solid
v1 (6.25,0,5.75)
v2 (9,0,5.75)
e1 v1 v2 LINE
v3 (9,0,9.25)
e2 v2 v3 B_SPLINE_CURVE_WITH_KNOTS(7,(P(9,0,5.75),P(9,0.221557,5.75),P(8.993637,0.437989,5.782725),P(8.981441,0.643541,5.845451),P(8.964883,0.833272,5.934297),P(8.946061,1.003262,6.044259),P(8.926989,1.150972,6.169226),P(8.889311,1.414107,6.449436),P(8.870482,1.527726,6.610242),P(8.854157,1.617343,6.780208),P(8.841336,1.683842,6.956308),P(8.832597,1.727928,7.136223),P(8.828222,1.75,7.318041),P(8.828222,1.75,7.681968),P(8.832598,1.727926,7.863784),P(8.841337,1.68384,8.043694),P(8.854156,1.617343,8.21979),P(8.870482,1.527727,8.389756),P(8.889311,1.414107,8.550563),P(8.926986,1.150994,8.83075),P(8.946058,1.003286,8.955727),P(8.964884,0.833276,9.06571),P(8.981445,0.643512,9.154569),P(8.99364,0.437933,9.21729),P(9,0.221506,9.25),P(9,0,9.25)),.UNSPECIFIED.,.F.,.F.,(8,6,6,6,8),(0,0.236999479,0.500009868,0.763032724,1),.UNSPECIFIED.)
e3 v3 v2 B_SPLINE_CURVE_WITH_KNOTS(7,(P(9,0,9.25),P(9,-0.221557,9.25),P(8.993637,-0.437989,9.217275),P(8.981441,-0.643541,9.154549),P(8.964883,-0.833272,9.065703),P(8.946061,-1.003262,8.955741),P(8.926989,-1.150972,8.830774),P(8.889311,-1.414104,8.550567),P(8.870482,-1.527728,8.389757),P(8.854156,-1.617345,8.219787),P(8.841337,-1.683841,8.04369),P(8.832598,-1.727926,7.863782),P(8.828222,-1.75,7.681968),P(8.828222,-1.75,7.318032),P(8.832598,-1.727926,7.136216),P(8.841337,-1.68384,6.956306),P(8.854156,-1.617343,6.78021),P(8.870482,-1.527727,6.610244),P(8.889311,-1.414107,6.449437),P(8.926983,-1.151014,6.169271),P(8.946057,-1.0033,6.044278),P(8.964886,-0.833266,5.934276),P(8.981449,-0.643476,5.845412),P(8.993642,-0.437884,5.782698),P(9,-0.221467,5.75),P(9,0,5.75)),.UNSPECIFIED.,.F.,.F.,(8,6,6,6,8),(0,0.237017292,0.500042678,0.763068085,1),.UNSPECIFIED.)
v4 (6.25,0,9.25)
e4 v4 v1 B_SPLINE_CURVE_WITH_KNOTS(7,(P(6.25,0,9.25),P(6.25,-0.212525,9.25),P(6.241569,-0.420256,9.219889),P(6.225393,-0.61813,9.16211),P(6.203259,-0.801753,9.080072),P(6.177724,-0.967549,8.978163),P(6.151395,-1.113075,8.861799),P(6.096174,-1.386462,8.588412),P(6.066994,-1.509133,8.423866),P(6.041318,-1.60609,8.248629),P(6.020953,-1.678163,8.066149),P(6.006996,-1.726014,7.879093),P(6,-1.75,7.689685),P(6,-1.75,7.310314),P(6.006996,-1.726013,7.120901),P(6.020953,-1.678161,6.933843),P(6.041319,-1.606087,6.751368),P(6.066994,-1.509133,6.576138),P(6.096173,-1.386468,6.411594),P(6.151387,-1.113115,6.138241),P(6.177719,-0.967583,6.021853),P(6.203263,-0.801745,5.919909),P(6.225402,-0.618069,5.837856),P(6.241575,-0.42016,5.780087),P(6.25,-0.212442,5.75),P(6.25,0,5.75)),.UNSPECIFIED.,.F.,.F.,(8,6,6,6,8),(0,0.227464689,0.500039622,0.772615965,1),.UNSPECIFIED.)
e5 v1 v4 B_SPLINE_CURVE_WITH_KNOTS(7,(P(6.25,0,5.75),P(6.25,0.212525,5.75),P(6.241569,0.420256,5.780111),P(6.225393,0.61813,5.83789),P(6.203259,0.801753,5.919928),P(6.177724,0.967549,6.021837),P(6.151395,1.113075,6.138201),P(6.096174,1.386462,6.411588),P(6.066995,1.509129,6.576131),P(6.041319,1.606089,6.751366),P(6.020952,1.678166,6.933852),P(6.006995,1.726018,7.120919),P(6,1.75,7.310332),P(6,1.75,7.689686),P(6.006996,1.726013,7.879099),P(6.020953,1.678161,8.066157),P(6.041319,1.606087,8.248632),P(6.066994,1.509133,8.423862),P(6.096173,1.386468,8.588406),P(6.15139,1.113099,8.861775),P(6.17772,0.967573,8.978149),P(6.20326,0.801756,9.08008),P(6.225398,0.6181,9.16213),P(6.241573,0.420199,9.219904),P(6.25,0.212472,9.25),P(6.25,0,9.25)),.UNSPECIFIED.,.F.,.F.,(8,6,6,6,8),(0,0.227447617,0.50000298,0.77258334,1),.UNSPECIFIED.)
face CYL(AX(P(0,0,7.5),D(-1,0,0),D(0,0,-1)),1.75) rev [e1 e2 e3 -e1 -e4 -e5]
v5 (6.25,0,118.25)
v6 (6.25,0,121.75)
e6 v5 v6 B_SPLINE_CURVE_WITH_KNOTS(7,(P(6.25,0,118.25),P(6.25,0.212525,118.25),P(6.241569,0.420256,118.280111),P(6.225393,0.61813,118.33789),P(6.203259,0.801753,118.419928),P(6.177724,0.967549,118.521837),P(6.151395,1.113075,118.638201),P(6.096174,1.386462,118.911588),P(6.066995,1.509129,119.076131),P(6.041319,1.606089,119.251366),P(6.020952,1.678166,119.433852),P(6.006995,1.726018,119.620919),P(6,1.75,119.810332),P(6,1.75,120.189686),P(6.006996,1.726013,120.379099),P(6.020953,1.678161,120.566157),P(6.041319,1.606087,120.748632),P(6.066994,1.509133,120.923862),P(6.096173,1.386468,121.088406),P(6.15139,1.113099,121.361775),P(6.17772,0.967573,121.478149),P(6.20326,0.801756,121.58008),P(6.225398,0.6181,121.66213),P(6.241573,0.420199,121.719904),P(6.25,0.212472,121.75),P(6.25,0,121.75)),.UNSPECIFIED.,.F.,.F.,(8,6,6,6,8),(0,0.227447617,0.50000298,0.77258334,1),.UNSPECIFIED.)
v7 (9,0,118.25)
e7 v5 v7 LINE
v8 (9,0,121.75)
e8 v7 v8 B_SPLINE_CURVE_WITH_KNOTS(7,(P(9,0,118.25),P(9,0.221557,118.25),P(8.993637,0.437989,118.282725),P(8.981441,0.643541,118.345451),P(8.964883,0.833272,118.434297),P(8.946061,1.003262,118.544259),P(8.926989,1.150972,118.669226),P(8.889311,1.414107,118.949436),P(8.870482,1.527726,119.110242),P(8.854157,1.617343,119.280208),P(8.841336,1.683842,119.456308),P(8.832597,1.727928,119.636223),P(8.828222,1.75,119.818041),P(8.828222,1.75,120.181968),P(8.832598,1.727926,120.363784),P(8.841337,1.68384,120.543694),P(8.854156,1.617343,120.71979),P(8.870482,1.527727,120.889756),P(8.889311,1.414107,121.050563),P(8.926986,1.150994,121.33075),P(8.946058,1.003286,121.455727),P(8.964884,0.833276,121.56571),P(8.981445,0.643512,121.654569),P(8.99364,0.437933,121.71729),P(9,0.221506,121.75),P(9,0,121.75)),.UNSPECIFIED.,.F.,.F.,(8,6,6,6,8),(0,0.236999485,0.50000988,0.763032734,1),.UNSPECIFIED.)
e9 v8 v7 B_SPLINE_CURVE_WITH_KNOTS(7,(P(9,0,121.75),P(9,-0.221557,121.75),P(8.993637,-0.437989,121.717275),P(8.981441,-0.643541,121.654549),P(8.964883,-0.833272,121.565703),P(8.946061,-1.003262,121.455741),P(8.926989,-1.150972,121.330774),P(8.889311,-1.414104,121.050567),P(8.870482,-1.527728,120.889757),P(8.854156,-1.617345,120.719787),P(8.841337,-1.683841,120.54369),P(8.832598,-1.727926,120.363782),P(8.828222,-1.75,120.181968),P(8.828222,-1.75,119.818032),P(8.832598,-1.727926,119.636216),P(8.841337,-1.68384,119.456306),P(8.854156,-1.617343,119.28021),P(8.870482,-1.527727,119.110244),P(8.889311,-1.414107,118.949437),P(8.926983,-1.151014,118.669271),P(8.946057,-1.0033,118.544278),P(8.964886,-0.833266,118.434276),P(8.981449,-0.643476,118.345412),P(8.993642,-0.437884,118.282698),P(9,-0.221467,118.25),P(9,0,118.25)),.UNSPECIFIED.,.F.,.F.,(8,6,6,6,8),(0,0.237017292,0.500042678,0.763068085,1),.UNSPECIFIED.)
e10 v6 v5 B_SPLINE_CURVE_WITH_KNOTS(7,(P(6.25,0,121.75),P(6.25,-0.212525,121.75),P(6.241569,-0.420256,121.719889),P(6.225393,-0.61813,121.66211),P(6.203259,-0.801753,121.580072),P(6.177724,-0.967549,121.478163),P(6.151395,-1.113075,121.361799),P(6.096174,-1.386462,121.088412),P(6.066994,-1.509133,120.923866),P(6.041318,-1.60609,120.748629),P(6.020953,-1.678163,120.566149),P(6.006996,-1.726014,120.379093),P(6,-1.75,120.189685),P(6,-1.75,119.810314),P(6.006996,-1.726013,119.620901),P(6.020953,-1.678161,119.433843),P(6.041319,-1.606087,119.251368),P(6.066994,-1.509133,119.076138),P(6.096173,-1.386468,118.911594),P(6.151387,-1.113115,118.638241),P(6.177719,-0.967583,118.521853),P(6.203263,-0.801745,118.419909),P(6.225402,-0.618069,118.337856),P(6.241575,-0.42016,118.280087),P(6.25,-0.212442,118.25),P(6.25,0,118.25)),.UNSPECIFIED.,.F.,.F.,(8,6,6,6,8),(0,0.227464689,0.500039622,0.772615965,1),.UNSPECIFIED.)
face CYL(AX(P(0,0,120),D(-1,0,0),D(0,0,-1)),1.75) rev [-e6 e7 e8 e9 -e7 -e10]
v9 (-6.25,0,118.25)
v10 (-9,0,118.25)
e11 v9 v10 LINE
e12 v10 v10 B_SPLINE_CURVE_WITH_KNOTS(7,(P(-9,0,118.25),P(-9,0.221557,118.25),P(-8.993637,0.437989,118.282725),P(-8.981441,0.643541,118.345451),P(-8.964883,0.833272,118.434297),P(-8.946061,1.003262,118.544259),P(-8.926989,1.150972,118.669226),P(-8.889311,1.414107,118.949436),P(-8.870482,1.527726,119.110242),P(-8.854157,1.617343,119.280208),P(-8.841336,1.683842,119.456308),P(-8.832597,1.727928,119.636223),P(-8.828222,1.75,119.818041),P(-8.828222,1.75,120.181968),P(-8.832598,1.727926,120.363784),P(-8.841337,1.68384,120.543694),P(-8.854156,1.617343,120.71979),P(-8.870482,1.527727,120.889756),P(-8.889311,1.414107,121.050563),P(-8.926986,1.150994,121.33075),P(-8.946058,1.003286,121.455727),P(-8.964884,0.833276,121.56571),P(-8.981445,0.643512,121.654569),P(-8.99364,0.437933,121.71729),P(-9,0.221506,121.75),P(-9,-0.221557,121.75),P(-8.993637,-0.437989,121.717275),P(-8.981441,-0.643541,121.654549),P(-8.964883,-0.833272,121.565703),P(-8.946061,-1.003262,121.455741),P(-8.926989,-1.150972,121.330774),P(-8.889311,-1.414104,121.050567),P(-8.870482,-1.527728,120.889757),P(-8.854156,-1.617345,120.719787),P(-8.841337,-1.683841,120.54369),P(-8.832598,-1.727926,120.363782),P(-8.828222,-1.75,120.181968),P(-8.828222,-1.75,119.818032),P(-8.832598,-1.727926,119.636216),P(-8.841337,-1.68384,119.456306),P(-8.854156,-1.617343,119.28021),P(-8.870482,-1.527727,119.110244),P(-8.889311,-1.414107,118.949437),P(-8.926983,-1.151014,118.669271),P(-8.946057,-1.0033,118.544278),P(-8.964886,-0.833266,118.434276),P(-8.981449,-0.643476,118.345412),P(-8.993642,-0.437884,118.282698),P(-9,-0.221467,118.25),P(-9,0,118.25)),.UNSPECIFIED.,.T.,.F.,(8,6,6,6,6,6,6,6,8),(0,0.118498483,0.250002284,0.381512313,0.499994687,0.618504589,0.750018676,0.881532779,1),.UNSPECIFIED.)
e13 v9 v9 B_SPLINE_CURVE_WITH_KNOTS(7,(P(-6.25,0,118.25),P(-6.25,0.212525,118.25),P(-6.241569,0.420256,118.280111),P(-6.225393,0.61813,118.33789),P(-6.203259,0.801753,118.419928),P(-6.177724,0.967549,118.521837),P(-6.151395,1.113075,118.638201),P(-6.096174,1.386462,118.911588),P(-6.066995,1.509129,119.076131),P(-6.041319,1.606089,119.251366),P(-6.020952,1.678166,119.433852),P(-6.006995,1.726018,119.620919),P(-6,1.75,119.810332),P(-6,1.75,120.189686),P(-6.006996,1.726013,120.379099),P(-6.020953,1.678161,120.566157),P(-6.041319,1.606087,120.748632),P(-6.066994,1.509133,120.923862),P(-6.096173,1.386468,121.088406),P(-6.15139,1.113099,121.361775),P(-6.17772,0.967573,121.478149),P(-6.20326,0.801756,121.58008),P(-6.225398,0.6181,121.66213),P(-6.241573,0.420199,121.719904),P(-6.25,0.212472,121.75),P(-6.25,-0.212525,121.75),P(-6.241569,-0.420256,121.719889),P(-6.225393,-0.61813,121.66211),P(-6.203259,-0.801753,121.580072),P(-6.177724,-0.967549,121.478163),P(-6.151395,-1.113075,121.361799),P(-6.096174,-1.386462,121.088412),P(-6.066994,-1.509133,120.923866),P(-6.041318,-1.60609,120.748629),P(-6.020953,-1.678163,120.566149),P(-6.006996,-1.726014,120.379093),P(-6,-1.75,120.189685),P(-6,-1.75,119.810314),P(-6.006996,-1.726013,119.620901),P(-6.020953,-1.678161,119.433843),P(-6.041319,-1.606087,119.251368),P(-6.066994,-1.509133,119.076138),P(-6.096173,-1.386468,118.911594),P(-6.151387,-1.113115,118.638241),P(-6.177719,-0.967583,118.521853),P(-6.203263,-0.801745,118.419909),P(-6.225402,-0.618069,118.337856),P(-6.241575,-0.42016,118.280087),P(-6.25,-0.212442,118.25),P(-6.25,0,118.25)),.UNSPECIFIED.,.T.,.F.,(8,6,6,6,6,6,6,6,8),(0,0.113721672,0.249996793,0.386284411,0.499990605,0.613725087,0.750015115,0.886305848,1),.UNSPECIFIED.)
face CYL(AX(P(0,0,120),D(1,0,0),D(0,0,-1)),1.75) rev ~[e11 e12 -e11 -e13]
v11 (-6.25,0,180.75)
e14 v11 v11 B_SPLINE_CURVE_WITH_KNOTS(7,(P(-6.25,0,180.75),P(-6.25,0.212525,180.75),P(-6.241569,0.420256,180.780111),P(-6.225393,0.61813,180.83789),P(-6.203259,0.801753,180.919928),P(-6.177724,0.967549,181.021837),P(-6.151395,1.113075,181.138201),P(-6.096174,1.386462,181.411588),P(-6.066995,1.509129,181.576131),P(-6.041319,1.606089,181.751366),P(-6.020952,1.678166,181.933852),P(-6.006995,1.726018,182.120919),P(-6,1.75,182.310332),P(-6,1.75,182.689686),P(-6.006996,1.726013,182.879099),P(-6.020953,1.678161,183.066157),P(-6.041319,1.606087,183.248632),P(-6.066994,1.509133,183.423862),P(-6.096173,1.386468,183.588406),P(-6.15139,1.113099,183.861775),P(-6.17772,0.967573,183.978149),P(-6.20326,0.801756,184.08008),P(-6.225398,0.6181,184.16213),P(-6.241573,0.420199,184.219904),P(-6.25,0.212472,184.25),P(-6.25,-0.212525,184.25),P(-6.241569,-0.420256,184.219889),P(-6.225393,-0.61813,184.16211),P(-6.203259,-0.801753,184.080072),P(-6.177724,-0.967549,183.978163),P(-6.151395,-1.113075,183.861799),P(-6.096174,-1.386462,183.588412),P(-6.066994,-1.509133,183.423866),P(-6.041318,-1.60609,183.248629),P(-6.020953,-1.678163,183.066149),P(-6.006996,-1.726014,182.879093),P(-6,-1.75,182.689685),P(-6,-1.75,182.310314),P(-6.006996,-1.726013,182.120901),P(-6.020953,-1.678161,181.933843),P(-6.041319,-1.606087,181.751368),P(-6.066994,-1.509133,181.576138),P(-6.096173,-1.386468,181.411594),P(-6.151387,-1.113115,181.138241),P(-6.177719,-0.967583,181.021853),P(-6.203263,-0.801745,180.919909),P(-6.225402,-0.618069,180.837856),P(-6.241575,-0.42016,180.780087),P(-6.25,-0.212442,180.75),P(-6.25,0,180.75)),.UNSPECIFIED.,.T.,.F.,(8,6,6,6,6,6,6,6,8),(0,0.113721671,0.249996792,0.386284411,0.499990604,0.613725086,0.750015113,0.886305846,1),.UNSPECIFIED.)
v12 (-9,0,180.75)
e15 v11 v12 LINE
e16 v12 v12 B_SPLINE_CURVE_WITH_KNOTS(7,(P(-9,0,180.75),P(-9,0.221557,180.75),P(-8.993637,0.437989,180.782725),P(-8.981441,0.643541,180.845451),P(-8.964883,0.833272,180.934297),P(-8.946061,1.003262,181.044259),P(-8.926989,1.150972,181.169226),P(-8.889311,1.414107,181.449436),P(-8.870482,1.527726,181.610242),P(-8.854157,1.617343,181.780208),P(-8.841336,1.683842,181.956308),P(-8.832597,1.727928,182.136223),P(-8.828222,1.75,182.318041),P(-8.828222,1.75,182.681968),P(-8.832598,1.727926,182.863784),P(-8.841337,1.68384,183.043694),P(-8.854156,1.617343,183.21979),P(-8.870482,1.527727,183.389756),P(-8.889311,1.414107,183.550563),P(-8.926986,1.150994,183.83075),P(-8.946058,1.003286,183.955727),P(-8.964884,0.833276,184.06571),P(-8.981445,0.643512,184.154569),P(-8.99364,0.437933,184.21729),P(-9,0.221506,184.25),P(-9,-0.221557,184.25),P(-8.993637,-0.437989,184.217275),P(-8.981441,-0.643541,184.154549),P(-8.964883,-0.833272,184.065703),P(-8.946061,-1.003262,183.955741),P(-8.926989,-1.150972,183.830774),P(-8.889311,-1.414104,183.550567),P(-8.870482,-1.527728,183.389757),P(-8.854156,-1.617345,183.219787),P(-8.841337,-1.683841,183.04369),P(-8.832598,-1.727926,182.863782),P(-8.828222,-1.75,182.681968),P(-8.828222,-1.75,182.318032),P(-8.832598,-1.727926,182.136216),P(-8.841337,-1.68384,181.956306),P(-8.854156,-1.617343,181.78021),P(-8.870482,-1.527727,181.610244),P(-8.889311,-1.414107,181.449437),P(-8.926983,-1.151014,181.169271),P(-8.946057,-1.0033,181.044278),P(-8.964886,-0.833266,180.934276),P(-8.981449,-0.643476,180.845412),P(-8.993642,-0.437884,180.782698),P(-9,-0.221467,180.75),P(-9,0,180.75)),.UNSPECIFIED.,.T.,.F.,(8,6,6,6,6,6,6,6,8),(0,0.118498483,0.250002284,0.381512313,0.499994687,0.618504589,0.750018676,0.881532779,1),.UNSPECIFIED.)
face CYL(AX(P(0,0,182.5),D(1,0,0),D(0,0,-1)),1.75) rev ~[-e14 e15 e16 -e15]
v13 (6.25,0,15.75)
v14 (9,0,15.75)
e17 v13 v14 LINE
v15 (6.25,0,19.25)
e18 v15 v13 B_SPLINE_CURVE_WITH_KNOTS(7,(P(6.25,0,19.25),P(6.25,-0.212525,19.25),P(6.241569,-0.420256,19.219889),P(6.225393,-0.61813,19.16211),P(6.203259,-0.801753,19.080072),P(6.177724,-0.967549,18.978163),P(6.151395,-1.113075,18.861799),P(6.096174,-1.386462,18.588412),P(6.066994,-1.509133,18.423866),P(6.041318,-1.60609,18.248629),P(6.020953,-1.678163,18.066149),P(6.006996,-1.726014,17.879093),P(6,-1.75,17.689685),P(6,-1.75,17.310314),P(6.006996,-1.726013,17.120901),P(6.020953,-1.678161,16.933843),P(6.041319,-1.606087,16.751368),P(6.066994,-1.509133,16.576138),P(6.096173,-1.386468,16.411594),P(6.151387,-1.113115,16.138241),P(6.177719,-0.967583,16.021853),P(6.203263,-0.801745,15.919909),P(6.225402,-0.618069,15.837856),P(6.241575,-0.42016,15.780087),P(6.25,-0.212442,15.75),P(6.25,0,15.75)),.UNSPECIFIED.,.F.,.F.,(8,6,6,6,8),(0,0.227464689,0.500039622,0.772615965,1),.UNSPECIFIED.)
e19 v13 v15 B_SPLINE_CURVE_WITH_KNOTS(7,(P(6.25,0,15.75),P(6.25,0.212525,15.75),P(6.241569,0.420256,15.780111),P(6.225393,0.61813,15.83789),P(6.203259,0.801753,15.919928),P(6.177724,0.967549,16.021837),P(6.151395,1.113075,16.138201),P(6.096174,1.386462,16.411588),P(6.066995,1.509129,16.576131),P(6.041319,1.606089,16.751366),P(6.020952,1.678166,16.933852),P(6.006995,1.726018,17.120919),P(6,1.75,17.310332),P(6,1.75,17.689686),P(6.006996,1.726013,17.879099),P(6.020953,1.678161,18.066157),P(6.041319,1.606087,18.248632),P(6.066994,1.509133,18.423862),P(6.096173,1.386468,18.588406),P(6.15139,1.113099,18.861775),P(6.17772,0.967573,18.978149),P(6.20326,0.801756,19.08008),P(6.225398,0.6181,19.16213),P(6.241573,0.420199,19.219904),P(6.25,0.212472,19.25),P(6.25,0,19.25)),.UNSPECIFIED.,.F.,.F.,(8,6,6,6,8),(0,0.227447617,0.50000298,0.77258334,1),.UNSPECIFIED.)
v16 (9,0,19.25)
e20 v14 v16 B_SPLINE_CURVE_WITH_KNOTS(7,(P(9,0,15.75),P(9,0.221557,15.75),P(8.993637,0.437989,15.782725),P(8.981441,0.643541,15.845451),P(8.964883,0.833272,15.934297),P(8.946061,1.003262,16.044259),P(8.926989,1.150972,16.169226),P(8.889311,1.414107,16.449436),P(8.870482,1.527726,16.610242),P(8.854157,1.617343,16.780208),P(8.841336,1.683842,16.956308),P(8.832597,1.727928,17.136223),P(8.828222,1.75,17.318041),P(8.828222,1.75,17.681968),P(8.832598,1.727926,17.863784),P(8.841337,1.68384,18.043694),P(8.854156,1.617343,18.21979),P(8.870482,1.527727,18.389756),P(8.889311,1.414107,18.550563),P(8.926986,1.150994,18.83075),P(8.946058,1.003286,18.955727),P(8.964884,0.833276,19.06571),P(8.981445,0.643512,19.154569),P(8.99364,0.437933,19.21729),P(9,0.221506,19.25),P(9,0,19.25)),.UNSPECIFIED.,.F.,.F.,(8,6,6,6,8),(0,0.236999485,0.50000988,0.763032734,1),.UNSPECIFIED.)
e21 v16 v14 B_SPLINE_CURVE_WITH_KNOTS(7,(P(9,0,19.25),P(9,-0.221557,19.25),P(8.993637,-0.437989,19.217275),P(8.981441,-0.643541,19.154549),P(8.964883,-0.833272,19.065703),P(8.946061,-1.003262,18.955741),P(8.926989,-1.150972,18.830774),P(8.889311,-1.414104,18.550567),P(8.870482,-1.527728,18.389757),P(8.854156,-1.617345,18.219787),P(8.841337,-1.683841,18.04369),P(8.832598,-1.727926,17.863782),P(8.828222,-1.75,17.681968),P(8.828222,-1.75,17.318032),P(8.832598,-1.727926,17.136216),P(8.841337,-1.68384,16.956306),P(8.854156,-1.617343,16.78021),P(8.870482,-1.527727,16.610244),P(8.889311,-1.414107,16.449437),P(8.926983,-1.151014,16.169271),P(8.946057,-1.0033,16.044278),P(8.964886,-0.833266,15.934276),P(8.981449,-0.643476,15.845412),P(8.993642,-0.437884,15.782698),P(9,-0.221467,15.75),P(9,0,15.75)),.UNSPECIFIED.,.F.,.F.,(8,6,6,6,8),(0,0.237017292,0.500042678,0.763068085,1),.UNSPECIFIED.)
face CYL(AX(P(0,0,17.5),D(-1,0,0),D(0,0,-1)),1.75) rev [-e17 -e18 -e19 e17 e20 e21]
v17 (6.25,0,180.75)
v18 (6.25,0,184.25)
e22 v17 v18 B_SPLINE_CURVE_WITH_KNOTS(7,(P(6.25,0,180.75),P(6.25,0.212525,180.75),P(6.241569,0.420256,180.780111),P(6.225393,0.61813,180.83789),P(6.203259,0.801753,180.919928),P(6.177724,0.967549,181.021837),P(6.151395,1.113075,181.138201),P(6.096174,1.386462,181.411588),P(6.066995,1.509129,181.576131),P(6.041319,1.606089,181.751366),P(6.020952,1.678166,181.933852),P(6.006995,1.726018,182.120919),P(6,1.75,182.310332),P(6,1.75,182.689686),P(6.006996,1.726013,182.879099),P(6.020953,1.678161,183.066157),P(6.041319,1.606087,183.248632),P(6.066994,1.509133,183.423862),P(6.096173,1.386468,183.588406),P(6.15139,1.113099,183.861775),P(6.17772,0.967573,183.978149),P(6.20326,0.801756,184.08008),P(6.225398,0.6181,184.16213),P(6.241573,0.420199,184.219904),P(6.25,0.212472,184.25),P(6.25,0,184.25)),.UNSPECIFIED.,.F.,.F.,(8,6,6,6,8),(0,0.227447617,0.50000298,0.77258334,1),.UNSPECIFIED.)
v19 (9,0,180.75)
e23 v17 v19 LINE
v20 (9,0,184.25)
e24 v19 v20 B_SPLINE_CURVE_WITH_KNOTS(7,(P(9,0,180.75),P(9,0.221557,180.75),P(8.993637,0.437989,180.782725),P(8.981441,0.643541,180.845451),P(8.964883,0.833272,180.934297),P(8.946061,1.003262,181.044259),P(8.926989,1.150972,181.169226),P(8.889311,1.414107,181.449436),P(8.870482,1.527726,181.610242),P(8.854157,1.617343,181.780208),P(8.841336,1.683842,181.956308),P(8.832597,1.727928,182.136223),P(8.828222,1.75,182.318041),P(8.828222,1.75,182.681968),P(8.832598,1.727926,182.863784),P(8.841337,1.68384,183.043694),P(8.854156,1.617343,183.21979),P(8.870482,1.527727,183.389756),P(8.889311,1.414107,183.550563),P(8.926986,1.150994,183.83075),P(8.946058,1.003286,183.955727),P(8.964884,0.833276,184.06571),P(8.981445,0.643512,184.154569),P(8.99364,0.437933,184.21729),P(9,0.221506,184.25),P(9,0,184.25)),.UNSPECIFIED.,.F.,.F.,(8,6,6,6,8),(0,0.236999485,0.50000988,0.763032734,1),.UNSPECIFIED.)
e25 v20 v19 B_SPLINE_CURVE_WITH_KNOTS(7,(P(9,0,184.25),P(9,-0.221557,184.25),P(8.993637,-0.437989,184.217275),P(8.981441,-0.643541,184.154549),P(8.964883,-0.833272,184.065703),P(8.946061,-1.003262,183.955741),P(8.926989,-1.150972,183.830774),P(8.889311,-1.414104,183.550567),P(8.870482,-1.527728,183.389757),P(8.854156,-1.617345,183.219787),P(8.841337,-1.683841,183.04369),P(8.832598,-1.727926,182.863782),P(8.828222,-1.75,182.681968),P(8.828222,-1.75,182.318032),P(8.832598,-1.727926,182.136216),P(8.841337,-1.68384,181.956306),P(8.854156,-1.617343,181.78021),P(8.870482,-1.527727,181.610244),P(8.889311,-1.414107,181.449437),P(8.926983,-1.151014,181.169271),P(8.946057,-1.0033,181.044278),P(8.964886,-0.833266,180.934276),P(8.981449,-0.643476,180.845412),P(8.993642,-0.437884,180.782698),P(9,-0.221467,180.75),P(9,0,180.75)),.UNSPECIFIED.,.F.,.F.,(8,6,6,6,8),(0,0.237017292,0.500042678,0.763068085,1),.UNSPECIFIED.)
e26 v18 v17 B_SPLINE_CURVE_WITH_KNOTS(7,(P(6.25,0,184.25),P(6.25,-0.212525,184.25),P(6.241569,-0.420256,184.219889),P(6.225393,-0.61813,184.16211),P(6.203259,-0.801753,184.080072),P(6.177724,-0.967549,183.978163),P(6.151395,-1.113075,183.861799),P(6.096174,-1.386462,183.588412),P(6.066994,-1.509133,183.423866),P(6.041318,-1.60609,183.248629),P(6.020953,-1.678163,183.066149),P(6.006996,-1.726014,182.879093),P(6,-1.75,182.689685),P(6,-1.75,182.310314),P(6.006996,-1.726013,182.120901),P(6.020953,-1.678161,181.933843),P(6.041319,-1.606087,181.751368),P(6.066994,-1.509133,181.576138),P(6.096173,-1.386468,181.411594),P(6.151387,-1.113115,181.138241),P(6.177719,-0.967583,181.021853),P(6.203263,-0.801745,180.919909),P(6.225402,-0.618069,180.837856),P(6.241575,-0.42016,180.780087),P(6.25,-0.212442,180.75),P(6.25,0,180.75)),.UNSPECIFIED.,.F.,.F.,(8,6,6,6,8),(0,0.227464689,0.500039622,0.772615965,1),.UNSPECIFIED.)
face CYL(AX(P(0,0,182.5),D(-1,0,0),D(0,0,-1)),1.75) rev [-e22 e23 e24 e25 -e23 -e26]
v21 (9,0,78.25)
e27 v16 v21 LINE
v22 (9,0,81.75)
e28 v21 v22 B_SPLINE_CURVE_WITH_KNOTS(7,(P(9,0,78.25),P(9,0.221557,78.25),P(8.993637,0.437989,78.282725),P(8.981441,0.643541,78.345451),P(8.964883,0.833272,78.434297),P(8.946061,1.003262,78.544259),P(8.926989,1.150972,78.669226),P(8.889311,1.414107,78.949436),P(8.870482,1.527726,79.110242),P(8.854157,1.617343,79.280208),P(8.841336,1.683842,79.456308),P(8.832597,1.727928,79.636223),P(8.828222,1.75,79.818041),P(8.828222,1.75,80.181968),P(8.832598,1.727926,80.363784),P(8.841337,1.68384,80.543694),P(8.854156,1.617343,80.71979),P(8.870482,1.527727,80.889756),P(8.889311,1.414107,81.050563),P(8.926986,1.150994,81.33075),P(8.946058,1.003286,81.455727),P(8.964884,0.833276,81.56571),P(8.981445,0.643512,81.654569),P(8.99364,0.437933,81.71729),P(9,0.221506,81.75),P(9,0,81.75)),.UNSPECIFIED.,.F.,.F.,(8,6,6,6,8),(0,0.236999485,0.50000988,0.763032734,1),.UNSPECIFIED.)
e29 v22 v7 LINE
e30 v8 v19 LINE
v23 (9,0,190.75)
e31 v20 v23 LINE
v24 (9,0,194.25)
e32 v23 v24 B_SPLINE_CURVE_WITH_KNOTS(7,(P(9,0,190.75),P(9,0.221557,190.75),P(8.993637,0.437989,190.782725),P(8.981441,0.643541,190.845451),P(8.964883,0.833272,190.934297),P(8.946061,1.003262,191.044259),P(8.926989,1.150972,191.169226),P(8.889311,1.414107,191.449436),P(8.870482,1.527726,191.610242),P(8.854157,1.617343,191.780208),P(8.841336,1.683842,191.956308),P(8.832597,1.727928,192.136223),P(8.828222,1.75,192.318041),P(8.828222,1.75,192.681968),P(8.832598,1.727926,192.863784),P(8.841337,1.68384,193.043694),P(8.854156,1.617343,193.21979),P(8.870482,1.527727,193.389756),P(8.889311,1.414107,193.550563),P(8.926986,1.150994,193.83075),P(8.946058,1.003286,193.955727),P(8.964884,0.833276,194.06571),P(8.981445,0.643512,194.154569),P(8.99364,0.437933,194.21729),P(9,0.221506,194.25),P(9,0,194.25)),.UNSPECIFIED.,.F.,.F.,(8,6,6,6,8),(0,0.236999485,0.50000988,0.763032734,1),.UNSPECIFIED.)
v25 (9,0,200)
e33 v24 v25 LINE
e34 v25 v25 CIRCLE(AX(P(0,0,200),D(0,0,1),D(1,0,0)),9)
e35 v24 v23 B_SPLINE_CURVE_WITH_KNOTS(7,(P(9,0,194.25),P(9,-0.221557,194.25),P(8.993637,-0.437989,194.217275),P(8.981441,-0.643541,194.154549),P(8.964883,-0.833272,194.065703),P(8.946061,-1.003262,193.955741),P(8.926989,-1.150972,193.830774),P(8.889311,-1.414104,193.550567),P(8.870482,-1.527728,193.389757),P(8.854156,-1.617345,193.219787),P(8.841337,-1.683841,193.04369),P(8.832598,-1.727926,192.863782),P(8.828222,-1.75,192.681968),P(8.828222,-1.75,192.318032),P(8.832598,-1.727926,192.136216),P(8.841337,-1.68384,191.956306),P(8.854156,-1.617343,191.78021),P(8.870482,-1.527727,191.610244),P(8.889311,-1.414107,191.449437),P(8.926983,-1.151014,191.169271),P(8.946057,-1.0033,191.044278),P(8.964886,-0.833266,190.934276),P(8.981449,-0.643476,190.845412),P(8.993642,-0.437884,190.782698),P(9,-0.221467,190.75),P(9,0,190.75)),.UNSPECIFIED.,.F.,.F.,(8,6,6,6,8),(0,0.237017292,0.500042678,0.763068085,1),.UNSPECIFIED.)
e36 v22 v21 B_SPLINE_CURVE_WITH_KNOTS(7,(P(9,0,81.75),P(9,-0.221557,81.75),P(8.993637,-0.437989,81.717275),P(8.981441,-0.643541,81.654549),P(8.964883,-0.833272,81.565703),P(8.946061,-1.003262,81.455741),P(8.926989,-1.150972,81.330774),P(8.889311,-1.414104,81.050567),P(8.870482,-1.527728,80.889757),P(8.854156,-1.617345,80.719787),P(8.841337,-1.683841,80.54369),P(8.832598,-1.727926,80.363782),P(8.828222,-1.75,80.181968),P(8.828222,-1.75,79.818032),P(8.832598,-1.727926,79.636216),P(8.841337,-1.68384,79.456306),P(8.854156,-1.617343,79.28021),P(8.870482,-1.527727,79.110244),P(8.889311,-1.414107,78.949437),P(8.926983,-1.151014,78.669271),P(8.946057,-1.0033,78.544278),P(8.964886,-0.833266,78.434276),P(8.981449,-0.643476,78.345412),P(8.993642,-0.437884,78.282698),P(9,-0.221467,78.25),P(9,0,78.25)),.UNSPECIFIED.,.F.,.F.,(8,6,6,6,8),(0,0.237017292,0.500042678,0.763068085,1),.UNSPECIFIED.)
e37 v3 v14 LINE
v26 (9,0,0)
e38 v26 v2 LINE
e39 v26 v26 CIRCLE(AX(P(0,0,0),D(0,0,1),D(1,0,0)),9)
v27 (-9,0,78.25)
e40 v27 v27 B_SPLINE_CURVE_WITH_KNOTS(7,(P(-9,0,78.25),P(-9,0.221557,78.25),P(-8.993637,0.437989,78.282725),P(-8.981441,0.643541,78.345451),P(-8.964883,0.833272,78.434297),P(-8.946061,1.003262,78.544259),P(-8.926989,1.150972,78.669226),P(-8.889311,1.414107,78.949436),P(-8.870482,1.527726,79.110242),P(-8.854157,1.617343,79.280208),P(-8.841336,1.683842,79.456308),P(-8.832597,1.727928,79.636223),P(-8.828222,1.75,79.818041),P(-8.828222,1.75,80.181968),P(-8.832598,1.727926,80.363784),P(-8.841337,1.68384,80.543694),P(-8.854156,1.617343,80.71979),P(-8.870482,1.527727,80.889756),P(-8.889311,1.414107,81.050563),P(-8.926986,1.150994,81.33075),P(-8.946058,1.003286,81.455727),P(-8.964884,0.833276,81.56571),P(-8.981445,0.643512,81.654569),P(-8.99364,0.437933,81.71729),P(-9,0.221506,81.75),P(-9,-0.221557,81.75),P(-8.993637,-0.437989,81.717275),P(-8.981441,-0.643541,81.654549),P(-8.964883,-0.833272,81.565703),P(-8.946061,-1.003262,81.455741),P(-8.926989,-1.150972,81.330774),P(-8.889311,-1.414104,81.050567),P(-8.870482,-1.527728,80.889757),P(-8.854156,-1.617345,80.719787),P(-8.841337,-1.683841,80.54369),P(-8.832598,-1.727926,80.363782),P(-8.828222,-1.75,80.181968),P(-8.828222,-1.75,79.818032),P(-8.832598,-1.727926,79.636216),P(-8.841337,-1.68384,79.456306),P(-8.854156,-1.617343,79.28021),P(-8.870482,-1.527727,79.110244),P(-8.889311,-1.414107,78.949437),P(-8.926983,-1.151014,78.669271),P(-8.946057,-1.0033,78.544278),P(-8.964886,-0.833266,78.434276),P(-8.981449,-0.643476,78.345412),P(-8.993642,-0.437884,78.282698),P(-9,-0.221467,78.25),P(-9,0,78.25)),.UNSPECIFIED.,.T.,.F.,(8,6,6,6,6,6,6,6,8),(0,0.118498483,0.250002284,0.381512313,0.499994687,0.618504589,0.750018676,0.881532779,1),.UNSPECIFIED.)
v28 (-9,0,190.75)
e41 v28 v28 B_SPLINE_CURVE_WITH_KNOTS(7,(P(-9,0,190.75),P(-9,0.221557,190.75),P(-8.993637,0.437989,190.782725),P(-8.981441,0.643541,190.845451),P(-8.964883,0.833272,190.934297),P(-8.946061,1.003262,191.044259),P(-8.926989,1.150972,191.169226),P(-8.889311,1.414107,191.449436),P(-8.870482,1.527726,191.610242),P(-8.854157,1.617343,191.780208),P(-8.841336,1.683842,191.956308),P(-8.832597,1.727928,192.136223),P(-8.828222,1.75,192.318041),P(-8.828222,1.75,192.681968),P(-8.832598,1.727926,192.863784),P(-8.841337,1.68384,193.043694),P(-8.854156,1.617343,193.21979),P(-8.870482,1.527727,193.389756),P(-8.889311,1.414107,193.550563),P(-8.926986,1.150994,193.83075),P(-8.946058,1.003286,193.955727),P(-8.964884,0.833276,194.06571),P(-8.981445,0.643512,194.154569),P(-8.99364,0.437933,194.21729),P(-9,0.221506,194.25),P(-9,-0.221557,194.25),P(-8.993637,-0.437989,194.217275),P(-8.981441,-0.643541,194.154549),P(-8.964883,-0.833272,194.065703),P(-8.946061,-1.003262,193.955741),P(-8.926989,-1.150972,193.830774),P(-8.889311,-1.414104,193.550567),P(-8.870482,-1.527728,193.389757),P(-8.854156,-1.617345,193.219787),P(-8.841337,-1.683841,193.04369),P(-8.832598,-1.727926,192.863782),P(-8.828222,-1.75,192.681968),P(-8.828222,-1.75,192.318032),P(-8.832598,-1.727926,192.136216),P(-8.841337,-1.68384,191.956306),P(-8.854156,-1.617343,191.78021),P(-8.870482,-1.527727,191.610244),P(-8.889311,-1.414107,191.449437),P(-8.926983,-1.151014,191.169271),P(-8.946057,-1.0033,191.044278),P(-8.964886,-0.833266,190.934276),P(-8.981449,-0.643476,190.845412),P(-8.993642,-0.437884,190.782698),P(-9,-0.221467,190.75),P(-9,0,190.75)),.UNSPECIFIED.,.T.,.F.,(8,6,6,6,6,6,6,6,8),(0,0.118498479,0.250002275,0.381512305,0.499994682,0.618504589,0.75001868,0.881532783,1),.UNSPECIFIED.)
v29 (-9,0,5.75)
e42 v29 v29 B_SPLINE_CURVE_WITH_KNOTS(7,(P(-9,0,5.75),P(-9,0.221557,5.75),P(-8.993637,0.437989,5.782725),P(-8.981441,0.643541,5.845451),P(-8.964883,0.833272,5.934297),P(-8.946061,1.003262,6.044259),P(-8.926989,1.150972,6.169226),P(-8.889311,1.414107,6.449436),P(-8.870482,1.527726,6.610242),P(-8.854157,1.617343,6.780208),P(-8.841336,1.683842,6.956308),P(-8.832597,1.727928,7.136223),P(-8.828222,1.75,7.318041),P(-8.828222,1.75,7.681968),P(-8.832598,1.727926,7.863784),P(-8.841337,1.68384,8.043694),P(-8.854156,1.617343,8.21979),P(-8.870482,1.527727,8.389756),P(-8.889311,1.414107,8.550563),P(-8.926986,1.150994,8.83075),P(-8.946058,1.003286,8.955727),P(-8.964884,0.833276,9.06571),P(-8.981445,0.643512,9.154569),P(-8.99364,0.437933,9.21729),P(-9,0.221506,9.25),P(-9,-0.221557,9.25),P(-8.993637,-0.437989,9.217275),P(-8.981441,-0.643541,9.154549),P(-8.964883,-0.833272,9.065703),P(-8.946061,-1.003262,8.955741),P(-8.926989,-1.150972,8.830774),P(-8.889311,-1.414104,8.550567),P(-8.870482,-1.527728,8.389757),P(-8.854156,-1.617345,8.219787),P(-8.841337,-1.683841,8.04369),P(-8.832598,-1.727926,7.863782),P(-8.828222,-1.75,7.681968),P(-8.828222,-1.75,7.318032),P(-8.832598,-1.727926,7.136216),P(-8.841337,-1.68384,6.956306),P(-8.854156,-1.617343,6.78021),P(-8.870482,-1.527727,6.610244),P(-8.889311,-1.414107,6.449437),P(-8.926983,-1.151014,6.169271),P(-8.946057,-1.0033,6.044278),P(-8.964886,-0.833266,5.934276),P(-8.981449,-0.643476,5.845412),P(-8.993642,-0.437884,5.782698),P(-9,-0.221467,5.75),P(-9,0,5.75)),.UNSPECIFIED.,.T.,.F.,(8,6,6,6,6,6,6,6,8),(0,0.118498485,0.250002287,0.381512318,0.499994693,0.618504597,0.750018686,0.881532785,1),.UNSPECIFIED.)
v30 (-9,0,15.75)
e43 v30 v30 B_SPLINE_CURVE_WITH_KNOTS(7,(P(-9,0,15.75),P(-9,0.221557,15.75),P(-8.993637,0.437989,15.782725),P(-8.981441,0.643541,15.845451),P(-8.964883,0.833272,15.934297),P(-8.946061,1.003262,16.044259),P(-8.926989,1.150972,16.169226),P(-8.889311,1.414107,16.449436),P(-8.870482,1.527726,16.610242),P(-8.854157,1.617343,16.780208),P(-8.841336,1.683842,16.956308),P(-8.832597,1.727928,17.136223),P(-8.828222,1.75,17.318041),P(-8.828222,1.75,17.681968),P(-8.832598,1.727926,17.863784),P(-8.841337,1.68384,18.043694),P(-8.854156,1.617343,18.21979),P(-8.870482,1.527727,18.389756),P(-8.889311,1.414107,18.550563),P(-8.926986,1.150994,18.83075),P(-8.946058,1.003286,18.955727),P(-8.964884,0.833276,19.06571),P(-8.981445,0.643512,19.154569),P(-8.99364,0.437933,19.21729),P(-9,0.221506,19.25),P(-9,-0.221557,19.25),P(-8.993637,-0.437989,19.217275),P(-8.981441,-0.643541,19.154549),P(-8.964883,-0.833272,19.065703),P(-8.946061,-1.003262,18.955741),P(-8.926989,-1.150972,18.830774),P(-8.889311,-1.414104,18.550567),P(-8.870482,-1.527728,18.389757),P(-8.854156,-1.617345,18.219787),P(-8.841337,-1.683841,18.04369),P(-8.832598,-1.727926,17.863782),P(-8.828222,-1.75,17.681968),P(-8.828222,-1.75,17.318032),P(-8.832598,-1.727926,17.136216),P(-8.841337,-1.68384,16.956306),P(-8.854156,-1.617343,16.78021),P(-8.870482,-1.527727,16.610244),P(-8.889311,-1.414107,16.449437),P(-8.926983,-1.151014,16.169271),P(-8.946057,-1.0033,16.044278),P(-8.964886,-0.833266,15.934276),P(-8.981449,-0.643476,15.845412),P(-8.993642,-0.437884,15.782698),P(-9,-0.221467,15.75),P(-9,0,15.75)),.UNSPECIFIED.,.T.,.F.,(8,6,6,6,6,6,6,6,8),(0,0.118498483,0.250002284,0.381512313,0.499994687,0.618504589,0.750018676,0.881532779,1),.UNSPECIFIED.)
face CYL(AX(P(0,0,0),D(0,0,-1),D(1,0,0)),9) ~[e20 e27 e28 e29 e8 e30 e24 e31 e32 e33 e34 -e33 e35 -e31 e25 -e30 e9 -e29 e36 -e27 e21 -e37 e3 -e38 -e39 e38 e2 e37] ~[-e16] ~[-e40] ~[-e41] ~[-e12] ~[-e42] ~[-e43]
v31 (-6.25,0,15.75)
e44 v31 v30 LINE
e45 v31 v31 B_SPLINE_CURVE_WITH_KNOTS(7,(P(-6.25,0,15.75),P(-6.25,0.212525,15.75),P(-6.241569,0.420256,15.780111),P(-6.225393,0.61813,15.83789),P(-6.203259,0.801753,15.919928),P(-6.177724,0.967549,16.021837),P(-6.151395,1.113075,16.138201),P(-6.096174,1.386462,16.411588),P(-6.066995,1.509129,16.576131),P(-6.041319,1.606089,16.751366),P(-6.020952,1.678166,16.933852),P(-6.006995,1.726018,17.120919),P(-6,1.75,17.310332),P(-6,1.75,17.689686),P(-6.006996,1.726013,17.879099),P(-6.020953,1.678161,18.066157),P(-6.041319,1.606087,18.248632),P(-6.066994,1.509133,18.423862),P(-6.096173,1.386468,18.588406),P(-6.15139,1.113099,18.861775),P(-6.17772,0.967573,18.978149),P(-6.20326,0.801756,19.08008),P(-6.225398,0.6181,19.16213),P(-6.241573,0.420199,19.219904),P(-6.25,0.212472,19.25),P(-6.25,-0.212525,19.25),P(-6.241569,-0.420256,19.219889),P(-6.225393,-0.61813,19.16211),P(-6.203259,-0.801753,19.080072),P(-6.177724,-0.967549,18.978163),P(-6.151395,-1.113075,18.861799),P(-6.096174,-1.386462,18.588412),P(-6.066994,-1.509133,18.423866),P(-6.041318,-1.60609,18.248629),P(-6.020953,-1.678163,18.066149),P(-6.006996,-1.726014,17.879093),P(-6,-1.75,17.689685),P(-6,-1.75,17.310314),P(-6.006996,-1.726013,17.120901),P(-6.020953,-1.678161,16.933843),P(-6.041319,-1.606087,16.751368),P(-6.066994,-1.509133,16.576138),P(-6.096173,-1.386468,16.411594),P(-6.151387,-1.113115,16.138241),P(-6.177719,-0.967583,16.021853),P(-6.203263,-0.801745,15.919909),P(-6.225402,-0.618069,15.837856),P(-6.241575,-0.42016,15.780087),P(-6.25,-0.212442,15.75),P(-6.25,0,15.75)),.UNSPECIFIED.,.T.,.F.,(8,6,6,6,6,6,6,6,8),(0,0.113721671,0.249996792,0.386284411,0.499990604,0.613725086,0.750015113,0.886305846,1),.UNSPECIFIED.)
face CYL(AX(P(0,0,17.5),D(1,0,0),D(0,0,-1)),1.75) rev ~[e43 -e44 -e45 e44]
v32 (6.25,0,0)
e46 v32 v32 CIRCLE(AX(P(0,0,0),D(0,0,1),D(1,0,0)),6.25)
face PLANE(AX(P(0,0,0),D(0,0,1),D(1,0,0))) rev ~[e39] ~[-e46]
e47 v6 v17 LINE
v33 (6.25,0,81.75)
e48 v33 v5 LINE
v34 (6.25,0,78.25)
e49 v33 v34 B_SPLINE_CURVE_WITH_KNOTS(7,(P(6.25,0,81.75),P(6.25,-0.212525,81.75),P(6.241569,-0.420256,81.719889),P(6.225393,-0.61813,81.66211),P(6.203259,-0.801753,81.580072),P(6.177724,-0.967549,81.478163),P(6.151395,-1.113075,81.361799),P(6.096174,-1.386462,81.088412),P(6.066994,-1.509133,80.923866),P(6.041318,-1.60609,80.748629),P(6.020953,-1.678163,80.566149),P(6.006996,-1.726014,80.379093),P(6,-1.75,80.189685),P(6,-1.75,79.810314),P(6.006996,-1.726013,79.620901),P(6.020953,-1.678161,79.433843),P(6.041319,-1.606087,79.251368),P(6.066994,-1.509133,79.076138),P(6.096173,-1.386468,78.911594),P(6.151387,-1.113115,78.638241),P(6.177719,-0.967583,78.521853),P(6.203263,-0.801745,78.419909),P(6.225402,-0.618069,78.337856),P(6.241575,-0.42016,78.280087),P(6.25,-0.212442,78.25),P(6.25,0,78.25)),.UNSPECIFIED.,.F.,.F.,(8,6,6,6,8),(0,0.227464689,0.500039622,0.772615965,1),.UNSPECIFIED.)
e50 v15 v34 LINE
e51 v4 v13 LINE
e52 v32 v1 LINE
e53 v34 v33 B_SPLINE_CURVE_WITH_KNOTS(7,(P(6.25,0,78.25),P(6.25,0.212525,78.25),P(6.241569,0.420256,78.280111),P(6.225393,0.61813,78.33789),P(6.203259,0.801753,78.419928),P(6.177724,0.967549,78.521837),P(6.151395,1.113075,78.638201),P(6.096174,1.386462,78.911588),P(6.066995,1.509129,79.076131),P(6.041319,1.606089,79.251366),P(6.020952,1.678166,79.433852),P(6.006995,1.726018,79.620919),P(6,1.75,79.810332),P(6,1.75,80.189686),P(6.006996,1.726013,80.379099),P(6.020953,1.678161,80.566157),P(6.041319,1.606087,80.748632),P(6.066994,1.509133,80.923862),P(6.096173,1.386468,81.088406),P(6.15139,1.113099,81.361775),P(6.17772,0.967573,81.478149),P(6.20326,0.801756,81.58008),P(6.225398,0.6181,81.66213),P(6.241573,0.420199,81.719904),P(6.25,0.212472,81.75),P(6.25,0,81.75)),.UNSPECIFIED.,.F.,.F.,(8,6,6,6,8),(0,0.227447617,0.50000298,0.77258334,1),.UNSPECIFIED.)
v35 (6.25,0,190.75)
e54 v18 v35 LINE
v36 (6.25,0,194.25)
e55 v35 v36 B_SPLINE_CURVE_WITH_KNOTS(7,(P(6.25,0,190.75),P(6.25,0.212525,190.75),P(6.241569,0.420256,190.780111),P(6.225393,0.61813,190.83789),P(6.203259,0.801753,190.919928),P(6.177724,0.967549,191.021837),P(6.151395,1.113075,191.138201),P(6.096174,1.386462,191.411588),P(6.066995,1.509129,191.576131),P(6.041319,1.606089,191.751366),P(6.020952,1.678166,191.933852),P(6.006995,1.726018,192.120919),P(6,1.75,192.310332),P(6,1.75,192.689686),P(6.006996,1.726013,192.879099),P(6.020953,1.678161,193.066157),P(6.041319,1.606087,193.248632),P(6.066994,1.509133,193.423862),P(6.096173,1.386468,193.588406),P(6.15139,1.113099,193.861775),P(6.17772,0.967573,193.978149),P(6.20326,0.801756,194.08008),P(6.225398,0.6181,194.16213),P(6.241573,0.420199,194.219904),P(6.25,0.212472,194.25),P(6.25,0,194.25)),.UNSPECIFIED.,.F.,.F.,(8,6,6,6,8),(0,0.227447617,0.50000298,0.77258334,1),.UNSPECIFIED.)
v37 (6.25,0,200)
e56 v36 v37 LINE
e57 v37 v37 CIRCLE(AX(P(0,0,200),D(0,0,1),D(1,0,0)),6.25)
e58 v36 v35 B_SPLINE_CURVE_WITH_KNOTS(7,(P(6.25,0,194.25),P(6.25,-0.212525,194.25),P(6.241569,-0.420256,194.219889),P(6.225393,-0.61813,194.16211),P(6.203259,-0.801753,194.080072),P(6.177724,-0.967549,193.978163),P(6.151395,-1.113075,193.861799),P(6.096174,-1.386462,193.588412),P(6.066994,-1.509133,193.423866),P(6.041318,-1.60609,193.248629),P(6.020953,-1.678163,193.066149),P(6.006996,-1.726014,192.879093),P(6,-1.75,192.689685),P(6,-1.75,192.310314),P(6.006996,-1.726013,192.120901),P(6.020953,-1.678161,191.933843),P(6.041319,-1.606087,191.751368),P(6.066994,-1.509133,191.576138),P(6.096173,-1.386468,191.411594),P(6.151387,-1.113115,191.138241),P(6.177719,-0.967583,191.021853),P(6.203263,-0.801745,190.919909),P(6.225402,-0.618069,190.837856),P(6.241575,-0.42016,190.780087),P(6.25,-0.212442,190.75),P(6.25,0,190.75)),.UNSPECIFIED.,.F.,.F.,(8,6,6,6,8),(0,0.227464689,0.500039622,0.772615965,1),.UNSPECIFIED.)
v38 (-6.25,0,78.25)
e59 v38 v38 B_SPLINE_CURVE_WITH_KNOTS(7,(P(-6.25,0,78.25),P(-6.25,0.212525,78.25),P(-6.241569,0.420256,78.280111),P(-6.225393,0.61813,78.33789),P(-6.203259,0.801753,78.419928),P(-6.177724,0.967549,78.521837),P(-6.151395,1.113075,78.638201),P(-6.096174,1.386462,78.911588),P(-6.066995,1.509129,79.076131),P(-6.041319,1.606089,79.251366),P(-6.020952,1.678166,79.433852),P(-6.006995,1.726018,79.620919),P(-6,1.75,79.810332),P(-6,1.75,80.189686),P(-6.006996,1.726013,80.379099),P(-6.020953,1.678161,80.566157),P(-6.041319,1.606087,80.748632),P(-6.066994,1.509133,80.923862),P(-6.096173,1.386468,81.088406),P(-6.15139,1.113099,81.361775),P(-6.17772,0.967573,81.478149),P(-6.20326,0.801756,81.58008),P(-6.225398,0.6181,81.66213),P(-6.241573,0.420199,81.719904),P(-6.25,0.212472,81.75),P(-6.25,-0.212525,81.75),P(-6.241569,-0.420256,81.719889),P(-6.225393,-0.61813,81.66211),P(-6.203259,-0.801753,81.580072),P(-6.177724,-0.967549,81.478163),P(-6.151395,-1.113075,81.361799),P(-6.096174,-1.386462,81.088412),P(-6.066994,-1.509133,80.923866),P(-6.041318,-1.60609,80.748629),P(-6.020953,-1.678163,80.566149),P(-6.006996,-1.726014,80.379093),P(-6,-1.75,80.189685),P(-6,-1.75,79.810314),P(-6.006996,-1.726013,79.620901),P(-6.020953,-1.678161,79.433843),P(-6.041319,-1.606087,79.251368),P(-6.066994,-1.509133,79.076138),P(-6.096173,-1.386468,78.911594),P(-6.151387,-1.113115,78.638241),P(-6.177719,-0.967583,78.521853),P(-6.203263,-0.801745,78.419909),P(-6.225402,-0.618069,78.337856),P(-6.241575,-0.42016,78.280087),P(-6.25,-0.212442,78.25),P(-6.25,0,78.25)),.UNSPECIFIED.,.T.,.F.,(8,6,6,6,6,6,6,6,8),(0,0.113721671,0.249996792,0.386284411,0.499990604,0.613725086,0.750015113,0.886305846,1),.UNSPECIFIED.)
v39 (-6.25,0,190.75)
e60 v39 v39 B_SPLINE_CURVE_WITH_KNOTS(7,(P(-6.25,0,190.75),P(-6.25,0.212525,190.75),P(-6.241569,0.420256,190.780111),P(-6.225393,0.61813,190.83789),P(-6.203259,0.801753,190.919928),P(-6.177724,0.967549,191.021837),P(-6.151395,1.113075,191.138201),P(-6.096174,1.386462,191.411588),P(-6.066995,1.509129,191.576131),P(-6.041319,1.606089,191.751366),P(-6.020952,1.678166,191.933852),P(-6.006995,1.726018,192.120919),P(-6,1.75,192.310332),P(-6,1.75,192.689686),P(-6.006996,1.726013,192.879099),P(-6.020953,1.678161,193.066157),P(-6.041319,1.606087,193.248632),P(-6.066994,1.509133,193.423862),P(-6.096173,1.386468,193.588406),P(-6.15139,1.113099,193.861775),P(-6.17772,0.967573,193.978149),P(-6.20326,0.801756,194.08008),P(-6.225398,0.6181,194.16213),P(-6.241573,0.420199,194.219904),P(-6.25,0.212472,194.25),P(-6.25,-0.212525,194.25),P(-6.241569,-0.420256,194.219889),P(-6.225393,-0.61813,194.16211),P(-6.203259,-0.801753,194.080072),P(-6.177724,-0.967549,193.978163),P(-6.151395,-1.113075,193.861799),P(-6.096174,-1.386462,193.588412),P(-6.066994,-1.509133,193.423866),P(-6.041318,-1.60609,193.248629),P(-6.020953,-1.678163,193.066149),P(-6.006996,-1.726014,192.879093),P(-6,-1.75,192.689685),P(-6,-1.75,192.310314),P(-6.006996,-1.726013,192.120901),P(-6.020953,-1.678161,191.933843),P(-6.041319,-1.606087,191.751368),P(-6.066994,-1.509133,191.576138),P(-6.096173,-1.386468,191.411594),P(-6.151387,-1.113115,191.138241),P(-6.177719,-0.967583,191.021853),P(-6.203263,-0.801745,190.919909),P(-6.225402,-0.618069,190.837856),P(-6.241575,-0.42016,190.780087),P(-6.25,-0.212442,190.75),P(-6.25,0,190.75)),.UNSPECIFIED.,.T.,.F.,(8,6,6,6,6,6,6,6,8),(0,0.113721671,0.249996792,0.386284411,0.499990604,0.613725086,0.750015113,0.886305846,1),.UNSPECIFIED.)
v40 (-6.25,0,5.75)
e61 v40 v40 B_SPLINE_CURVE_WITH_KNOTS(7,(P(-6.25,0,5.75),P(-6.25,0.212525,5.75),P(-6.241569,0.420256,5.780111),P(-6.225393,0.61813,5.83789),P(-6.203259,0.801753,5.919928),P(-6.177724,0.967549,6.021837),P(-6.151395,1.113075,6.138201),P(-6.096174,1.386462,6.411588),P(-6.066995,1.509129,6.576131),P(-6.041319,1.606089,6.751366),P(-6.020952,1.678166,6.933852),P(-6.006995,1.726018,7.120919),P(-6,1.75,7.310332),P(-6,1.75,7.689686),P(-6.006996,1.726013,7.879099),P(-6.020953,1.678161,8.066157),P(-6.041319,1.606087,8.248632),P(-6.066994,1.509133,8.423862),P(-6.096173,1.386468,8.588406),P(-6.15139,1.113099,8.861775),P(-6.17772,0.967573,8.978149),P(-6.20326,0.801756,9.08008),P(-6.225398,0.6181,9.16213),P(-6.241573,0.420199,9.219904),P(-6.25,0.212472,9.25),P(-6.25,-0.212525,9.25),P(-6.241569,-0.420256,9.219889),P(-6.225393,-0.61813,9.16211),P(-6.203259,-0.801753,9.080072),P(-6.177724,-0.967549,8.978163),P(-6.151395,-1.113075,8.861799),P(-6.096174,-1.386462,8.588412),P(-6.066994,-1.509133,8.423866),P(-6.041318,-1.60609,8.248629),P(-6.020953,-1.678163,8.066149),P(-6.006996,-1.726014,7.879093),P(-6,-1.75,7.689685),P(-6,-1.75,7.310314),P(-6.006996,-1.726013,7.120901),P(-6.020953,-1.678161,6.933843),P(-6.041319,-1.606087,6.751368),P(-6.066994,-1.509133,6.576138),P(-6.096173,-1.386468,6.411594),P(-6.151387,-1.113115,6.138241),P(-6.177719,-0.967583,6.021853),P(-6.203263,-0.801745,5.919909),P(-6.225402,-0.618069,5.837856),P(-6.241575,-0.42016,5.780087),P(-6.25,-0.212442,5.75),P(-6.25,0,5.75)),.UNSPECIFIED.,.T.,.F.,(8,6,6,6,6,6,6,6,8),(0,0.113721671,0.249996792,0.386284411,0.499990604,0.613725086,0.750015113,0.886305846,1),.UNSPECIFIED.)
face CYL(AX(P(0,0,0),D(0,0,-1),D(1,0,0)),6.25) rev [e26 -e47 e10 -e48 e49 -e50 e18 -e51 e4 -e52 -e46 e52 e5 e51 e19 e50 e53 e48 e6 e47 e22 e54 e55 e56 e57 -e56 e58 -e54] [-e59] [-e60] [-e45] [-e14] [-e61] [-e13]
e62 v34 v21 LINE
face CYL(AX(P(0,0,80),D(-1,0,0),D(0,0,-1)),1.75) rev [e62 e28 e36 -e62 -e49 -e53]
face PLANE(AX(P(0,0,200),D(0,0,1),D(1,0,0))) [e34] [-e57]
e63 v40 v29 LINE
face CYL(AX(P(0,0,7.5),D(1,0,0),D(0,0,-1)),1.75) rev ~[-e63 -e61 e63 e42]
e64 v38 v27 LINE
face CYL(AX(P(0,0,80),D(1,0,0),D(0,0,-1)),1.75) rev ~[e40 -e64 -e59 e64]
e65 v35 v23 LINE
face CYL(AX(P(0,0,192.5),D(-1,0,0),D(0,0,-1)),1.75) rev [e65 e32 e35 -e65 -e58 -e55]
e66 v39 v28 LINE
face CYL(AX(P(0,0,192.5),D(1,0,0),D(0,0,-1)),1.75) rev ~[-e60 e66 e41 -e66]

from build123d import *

# Parameters (mm, degrees)
SKETCH_1_R               = 9
SKETCH_1_R_2             = 6.25
EXTRUDE_1_DEPTH          = 200
SKETCH_2_R               = 1.75
CUT_EXTRUDE_1_DEPTH      = 10
CUT_EXTRUDE_1_DEPTH_BACK = 10


with BuildPart() as part:
    # ｽｹｯﾁ1 → ﾎﾞｽ - 押し出し1 (new body)
    with BuildSketch(Plane.XY):
        Circle(SKETCH_1_R)
        Circle(SKETCH_1_R_2, mode=Mode.SUBTRACT)
    extrude(amount=EXTRUDE_1_DEPTH)

    # ｽｹｯﾁ2 → ｶｯﾄ - 押し出し1 (cut, two sides)
    with BuildSketch(Plane(origin=(0, 0, 0), x_dir=(0, 0, -1), z_dir=(1, 0, 0))) as cut_extrude_1_sk:
        with Locations((-7.5, 0)):
            Circle(SKETCH_2_R)
        with Locations((-192.5, 0)):
            Circle(SKETCH_2_R)
        with Locations((-80, 0)):
            Circle(SKETCH_2_R)
        with Locations((-120, 0)):
            Circle(SKETCH_2_R)
        with Locations((-17.5, 0)):
            Circle(SKETCH_2_R)
        with Locations((-182.5, 0)):
            Circle(SKETCH_2_R)
    extrude(amount=CUT_EXTRUDE_1_DEPTH, mode=Mode.SUBTRACT)
    extrude(cut_extrude_1_sk.sketch, amount=-CUT_EXTRUDE_1_DEPTH_BACK, mode=Mode.SUBTRACT)


solid = part.part
